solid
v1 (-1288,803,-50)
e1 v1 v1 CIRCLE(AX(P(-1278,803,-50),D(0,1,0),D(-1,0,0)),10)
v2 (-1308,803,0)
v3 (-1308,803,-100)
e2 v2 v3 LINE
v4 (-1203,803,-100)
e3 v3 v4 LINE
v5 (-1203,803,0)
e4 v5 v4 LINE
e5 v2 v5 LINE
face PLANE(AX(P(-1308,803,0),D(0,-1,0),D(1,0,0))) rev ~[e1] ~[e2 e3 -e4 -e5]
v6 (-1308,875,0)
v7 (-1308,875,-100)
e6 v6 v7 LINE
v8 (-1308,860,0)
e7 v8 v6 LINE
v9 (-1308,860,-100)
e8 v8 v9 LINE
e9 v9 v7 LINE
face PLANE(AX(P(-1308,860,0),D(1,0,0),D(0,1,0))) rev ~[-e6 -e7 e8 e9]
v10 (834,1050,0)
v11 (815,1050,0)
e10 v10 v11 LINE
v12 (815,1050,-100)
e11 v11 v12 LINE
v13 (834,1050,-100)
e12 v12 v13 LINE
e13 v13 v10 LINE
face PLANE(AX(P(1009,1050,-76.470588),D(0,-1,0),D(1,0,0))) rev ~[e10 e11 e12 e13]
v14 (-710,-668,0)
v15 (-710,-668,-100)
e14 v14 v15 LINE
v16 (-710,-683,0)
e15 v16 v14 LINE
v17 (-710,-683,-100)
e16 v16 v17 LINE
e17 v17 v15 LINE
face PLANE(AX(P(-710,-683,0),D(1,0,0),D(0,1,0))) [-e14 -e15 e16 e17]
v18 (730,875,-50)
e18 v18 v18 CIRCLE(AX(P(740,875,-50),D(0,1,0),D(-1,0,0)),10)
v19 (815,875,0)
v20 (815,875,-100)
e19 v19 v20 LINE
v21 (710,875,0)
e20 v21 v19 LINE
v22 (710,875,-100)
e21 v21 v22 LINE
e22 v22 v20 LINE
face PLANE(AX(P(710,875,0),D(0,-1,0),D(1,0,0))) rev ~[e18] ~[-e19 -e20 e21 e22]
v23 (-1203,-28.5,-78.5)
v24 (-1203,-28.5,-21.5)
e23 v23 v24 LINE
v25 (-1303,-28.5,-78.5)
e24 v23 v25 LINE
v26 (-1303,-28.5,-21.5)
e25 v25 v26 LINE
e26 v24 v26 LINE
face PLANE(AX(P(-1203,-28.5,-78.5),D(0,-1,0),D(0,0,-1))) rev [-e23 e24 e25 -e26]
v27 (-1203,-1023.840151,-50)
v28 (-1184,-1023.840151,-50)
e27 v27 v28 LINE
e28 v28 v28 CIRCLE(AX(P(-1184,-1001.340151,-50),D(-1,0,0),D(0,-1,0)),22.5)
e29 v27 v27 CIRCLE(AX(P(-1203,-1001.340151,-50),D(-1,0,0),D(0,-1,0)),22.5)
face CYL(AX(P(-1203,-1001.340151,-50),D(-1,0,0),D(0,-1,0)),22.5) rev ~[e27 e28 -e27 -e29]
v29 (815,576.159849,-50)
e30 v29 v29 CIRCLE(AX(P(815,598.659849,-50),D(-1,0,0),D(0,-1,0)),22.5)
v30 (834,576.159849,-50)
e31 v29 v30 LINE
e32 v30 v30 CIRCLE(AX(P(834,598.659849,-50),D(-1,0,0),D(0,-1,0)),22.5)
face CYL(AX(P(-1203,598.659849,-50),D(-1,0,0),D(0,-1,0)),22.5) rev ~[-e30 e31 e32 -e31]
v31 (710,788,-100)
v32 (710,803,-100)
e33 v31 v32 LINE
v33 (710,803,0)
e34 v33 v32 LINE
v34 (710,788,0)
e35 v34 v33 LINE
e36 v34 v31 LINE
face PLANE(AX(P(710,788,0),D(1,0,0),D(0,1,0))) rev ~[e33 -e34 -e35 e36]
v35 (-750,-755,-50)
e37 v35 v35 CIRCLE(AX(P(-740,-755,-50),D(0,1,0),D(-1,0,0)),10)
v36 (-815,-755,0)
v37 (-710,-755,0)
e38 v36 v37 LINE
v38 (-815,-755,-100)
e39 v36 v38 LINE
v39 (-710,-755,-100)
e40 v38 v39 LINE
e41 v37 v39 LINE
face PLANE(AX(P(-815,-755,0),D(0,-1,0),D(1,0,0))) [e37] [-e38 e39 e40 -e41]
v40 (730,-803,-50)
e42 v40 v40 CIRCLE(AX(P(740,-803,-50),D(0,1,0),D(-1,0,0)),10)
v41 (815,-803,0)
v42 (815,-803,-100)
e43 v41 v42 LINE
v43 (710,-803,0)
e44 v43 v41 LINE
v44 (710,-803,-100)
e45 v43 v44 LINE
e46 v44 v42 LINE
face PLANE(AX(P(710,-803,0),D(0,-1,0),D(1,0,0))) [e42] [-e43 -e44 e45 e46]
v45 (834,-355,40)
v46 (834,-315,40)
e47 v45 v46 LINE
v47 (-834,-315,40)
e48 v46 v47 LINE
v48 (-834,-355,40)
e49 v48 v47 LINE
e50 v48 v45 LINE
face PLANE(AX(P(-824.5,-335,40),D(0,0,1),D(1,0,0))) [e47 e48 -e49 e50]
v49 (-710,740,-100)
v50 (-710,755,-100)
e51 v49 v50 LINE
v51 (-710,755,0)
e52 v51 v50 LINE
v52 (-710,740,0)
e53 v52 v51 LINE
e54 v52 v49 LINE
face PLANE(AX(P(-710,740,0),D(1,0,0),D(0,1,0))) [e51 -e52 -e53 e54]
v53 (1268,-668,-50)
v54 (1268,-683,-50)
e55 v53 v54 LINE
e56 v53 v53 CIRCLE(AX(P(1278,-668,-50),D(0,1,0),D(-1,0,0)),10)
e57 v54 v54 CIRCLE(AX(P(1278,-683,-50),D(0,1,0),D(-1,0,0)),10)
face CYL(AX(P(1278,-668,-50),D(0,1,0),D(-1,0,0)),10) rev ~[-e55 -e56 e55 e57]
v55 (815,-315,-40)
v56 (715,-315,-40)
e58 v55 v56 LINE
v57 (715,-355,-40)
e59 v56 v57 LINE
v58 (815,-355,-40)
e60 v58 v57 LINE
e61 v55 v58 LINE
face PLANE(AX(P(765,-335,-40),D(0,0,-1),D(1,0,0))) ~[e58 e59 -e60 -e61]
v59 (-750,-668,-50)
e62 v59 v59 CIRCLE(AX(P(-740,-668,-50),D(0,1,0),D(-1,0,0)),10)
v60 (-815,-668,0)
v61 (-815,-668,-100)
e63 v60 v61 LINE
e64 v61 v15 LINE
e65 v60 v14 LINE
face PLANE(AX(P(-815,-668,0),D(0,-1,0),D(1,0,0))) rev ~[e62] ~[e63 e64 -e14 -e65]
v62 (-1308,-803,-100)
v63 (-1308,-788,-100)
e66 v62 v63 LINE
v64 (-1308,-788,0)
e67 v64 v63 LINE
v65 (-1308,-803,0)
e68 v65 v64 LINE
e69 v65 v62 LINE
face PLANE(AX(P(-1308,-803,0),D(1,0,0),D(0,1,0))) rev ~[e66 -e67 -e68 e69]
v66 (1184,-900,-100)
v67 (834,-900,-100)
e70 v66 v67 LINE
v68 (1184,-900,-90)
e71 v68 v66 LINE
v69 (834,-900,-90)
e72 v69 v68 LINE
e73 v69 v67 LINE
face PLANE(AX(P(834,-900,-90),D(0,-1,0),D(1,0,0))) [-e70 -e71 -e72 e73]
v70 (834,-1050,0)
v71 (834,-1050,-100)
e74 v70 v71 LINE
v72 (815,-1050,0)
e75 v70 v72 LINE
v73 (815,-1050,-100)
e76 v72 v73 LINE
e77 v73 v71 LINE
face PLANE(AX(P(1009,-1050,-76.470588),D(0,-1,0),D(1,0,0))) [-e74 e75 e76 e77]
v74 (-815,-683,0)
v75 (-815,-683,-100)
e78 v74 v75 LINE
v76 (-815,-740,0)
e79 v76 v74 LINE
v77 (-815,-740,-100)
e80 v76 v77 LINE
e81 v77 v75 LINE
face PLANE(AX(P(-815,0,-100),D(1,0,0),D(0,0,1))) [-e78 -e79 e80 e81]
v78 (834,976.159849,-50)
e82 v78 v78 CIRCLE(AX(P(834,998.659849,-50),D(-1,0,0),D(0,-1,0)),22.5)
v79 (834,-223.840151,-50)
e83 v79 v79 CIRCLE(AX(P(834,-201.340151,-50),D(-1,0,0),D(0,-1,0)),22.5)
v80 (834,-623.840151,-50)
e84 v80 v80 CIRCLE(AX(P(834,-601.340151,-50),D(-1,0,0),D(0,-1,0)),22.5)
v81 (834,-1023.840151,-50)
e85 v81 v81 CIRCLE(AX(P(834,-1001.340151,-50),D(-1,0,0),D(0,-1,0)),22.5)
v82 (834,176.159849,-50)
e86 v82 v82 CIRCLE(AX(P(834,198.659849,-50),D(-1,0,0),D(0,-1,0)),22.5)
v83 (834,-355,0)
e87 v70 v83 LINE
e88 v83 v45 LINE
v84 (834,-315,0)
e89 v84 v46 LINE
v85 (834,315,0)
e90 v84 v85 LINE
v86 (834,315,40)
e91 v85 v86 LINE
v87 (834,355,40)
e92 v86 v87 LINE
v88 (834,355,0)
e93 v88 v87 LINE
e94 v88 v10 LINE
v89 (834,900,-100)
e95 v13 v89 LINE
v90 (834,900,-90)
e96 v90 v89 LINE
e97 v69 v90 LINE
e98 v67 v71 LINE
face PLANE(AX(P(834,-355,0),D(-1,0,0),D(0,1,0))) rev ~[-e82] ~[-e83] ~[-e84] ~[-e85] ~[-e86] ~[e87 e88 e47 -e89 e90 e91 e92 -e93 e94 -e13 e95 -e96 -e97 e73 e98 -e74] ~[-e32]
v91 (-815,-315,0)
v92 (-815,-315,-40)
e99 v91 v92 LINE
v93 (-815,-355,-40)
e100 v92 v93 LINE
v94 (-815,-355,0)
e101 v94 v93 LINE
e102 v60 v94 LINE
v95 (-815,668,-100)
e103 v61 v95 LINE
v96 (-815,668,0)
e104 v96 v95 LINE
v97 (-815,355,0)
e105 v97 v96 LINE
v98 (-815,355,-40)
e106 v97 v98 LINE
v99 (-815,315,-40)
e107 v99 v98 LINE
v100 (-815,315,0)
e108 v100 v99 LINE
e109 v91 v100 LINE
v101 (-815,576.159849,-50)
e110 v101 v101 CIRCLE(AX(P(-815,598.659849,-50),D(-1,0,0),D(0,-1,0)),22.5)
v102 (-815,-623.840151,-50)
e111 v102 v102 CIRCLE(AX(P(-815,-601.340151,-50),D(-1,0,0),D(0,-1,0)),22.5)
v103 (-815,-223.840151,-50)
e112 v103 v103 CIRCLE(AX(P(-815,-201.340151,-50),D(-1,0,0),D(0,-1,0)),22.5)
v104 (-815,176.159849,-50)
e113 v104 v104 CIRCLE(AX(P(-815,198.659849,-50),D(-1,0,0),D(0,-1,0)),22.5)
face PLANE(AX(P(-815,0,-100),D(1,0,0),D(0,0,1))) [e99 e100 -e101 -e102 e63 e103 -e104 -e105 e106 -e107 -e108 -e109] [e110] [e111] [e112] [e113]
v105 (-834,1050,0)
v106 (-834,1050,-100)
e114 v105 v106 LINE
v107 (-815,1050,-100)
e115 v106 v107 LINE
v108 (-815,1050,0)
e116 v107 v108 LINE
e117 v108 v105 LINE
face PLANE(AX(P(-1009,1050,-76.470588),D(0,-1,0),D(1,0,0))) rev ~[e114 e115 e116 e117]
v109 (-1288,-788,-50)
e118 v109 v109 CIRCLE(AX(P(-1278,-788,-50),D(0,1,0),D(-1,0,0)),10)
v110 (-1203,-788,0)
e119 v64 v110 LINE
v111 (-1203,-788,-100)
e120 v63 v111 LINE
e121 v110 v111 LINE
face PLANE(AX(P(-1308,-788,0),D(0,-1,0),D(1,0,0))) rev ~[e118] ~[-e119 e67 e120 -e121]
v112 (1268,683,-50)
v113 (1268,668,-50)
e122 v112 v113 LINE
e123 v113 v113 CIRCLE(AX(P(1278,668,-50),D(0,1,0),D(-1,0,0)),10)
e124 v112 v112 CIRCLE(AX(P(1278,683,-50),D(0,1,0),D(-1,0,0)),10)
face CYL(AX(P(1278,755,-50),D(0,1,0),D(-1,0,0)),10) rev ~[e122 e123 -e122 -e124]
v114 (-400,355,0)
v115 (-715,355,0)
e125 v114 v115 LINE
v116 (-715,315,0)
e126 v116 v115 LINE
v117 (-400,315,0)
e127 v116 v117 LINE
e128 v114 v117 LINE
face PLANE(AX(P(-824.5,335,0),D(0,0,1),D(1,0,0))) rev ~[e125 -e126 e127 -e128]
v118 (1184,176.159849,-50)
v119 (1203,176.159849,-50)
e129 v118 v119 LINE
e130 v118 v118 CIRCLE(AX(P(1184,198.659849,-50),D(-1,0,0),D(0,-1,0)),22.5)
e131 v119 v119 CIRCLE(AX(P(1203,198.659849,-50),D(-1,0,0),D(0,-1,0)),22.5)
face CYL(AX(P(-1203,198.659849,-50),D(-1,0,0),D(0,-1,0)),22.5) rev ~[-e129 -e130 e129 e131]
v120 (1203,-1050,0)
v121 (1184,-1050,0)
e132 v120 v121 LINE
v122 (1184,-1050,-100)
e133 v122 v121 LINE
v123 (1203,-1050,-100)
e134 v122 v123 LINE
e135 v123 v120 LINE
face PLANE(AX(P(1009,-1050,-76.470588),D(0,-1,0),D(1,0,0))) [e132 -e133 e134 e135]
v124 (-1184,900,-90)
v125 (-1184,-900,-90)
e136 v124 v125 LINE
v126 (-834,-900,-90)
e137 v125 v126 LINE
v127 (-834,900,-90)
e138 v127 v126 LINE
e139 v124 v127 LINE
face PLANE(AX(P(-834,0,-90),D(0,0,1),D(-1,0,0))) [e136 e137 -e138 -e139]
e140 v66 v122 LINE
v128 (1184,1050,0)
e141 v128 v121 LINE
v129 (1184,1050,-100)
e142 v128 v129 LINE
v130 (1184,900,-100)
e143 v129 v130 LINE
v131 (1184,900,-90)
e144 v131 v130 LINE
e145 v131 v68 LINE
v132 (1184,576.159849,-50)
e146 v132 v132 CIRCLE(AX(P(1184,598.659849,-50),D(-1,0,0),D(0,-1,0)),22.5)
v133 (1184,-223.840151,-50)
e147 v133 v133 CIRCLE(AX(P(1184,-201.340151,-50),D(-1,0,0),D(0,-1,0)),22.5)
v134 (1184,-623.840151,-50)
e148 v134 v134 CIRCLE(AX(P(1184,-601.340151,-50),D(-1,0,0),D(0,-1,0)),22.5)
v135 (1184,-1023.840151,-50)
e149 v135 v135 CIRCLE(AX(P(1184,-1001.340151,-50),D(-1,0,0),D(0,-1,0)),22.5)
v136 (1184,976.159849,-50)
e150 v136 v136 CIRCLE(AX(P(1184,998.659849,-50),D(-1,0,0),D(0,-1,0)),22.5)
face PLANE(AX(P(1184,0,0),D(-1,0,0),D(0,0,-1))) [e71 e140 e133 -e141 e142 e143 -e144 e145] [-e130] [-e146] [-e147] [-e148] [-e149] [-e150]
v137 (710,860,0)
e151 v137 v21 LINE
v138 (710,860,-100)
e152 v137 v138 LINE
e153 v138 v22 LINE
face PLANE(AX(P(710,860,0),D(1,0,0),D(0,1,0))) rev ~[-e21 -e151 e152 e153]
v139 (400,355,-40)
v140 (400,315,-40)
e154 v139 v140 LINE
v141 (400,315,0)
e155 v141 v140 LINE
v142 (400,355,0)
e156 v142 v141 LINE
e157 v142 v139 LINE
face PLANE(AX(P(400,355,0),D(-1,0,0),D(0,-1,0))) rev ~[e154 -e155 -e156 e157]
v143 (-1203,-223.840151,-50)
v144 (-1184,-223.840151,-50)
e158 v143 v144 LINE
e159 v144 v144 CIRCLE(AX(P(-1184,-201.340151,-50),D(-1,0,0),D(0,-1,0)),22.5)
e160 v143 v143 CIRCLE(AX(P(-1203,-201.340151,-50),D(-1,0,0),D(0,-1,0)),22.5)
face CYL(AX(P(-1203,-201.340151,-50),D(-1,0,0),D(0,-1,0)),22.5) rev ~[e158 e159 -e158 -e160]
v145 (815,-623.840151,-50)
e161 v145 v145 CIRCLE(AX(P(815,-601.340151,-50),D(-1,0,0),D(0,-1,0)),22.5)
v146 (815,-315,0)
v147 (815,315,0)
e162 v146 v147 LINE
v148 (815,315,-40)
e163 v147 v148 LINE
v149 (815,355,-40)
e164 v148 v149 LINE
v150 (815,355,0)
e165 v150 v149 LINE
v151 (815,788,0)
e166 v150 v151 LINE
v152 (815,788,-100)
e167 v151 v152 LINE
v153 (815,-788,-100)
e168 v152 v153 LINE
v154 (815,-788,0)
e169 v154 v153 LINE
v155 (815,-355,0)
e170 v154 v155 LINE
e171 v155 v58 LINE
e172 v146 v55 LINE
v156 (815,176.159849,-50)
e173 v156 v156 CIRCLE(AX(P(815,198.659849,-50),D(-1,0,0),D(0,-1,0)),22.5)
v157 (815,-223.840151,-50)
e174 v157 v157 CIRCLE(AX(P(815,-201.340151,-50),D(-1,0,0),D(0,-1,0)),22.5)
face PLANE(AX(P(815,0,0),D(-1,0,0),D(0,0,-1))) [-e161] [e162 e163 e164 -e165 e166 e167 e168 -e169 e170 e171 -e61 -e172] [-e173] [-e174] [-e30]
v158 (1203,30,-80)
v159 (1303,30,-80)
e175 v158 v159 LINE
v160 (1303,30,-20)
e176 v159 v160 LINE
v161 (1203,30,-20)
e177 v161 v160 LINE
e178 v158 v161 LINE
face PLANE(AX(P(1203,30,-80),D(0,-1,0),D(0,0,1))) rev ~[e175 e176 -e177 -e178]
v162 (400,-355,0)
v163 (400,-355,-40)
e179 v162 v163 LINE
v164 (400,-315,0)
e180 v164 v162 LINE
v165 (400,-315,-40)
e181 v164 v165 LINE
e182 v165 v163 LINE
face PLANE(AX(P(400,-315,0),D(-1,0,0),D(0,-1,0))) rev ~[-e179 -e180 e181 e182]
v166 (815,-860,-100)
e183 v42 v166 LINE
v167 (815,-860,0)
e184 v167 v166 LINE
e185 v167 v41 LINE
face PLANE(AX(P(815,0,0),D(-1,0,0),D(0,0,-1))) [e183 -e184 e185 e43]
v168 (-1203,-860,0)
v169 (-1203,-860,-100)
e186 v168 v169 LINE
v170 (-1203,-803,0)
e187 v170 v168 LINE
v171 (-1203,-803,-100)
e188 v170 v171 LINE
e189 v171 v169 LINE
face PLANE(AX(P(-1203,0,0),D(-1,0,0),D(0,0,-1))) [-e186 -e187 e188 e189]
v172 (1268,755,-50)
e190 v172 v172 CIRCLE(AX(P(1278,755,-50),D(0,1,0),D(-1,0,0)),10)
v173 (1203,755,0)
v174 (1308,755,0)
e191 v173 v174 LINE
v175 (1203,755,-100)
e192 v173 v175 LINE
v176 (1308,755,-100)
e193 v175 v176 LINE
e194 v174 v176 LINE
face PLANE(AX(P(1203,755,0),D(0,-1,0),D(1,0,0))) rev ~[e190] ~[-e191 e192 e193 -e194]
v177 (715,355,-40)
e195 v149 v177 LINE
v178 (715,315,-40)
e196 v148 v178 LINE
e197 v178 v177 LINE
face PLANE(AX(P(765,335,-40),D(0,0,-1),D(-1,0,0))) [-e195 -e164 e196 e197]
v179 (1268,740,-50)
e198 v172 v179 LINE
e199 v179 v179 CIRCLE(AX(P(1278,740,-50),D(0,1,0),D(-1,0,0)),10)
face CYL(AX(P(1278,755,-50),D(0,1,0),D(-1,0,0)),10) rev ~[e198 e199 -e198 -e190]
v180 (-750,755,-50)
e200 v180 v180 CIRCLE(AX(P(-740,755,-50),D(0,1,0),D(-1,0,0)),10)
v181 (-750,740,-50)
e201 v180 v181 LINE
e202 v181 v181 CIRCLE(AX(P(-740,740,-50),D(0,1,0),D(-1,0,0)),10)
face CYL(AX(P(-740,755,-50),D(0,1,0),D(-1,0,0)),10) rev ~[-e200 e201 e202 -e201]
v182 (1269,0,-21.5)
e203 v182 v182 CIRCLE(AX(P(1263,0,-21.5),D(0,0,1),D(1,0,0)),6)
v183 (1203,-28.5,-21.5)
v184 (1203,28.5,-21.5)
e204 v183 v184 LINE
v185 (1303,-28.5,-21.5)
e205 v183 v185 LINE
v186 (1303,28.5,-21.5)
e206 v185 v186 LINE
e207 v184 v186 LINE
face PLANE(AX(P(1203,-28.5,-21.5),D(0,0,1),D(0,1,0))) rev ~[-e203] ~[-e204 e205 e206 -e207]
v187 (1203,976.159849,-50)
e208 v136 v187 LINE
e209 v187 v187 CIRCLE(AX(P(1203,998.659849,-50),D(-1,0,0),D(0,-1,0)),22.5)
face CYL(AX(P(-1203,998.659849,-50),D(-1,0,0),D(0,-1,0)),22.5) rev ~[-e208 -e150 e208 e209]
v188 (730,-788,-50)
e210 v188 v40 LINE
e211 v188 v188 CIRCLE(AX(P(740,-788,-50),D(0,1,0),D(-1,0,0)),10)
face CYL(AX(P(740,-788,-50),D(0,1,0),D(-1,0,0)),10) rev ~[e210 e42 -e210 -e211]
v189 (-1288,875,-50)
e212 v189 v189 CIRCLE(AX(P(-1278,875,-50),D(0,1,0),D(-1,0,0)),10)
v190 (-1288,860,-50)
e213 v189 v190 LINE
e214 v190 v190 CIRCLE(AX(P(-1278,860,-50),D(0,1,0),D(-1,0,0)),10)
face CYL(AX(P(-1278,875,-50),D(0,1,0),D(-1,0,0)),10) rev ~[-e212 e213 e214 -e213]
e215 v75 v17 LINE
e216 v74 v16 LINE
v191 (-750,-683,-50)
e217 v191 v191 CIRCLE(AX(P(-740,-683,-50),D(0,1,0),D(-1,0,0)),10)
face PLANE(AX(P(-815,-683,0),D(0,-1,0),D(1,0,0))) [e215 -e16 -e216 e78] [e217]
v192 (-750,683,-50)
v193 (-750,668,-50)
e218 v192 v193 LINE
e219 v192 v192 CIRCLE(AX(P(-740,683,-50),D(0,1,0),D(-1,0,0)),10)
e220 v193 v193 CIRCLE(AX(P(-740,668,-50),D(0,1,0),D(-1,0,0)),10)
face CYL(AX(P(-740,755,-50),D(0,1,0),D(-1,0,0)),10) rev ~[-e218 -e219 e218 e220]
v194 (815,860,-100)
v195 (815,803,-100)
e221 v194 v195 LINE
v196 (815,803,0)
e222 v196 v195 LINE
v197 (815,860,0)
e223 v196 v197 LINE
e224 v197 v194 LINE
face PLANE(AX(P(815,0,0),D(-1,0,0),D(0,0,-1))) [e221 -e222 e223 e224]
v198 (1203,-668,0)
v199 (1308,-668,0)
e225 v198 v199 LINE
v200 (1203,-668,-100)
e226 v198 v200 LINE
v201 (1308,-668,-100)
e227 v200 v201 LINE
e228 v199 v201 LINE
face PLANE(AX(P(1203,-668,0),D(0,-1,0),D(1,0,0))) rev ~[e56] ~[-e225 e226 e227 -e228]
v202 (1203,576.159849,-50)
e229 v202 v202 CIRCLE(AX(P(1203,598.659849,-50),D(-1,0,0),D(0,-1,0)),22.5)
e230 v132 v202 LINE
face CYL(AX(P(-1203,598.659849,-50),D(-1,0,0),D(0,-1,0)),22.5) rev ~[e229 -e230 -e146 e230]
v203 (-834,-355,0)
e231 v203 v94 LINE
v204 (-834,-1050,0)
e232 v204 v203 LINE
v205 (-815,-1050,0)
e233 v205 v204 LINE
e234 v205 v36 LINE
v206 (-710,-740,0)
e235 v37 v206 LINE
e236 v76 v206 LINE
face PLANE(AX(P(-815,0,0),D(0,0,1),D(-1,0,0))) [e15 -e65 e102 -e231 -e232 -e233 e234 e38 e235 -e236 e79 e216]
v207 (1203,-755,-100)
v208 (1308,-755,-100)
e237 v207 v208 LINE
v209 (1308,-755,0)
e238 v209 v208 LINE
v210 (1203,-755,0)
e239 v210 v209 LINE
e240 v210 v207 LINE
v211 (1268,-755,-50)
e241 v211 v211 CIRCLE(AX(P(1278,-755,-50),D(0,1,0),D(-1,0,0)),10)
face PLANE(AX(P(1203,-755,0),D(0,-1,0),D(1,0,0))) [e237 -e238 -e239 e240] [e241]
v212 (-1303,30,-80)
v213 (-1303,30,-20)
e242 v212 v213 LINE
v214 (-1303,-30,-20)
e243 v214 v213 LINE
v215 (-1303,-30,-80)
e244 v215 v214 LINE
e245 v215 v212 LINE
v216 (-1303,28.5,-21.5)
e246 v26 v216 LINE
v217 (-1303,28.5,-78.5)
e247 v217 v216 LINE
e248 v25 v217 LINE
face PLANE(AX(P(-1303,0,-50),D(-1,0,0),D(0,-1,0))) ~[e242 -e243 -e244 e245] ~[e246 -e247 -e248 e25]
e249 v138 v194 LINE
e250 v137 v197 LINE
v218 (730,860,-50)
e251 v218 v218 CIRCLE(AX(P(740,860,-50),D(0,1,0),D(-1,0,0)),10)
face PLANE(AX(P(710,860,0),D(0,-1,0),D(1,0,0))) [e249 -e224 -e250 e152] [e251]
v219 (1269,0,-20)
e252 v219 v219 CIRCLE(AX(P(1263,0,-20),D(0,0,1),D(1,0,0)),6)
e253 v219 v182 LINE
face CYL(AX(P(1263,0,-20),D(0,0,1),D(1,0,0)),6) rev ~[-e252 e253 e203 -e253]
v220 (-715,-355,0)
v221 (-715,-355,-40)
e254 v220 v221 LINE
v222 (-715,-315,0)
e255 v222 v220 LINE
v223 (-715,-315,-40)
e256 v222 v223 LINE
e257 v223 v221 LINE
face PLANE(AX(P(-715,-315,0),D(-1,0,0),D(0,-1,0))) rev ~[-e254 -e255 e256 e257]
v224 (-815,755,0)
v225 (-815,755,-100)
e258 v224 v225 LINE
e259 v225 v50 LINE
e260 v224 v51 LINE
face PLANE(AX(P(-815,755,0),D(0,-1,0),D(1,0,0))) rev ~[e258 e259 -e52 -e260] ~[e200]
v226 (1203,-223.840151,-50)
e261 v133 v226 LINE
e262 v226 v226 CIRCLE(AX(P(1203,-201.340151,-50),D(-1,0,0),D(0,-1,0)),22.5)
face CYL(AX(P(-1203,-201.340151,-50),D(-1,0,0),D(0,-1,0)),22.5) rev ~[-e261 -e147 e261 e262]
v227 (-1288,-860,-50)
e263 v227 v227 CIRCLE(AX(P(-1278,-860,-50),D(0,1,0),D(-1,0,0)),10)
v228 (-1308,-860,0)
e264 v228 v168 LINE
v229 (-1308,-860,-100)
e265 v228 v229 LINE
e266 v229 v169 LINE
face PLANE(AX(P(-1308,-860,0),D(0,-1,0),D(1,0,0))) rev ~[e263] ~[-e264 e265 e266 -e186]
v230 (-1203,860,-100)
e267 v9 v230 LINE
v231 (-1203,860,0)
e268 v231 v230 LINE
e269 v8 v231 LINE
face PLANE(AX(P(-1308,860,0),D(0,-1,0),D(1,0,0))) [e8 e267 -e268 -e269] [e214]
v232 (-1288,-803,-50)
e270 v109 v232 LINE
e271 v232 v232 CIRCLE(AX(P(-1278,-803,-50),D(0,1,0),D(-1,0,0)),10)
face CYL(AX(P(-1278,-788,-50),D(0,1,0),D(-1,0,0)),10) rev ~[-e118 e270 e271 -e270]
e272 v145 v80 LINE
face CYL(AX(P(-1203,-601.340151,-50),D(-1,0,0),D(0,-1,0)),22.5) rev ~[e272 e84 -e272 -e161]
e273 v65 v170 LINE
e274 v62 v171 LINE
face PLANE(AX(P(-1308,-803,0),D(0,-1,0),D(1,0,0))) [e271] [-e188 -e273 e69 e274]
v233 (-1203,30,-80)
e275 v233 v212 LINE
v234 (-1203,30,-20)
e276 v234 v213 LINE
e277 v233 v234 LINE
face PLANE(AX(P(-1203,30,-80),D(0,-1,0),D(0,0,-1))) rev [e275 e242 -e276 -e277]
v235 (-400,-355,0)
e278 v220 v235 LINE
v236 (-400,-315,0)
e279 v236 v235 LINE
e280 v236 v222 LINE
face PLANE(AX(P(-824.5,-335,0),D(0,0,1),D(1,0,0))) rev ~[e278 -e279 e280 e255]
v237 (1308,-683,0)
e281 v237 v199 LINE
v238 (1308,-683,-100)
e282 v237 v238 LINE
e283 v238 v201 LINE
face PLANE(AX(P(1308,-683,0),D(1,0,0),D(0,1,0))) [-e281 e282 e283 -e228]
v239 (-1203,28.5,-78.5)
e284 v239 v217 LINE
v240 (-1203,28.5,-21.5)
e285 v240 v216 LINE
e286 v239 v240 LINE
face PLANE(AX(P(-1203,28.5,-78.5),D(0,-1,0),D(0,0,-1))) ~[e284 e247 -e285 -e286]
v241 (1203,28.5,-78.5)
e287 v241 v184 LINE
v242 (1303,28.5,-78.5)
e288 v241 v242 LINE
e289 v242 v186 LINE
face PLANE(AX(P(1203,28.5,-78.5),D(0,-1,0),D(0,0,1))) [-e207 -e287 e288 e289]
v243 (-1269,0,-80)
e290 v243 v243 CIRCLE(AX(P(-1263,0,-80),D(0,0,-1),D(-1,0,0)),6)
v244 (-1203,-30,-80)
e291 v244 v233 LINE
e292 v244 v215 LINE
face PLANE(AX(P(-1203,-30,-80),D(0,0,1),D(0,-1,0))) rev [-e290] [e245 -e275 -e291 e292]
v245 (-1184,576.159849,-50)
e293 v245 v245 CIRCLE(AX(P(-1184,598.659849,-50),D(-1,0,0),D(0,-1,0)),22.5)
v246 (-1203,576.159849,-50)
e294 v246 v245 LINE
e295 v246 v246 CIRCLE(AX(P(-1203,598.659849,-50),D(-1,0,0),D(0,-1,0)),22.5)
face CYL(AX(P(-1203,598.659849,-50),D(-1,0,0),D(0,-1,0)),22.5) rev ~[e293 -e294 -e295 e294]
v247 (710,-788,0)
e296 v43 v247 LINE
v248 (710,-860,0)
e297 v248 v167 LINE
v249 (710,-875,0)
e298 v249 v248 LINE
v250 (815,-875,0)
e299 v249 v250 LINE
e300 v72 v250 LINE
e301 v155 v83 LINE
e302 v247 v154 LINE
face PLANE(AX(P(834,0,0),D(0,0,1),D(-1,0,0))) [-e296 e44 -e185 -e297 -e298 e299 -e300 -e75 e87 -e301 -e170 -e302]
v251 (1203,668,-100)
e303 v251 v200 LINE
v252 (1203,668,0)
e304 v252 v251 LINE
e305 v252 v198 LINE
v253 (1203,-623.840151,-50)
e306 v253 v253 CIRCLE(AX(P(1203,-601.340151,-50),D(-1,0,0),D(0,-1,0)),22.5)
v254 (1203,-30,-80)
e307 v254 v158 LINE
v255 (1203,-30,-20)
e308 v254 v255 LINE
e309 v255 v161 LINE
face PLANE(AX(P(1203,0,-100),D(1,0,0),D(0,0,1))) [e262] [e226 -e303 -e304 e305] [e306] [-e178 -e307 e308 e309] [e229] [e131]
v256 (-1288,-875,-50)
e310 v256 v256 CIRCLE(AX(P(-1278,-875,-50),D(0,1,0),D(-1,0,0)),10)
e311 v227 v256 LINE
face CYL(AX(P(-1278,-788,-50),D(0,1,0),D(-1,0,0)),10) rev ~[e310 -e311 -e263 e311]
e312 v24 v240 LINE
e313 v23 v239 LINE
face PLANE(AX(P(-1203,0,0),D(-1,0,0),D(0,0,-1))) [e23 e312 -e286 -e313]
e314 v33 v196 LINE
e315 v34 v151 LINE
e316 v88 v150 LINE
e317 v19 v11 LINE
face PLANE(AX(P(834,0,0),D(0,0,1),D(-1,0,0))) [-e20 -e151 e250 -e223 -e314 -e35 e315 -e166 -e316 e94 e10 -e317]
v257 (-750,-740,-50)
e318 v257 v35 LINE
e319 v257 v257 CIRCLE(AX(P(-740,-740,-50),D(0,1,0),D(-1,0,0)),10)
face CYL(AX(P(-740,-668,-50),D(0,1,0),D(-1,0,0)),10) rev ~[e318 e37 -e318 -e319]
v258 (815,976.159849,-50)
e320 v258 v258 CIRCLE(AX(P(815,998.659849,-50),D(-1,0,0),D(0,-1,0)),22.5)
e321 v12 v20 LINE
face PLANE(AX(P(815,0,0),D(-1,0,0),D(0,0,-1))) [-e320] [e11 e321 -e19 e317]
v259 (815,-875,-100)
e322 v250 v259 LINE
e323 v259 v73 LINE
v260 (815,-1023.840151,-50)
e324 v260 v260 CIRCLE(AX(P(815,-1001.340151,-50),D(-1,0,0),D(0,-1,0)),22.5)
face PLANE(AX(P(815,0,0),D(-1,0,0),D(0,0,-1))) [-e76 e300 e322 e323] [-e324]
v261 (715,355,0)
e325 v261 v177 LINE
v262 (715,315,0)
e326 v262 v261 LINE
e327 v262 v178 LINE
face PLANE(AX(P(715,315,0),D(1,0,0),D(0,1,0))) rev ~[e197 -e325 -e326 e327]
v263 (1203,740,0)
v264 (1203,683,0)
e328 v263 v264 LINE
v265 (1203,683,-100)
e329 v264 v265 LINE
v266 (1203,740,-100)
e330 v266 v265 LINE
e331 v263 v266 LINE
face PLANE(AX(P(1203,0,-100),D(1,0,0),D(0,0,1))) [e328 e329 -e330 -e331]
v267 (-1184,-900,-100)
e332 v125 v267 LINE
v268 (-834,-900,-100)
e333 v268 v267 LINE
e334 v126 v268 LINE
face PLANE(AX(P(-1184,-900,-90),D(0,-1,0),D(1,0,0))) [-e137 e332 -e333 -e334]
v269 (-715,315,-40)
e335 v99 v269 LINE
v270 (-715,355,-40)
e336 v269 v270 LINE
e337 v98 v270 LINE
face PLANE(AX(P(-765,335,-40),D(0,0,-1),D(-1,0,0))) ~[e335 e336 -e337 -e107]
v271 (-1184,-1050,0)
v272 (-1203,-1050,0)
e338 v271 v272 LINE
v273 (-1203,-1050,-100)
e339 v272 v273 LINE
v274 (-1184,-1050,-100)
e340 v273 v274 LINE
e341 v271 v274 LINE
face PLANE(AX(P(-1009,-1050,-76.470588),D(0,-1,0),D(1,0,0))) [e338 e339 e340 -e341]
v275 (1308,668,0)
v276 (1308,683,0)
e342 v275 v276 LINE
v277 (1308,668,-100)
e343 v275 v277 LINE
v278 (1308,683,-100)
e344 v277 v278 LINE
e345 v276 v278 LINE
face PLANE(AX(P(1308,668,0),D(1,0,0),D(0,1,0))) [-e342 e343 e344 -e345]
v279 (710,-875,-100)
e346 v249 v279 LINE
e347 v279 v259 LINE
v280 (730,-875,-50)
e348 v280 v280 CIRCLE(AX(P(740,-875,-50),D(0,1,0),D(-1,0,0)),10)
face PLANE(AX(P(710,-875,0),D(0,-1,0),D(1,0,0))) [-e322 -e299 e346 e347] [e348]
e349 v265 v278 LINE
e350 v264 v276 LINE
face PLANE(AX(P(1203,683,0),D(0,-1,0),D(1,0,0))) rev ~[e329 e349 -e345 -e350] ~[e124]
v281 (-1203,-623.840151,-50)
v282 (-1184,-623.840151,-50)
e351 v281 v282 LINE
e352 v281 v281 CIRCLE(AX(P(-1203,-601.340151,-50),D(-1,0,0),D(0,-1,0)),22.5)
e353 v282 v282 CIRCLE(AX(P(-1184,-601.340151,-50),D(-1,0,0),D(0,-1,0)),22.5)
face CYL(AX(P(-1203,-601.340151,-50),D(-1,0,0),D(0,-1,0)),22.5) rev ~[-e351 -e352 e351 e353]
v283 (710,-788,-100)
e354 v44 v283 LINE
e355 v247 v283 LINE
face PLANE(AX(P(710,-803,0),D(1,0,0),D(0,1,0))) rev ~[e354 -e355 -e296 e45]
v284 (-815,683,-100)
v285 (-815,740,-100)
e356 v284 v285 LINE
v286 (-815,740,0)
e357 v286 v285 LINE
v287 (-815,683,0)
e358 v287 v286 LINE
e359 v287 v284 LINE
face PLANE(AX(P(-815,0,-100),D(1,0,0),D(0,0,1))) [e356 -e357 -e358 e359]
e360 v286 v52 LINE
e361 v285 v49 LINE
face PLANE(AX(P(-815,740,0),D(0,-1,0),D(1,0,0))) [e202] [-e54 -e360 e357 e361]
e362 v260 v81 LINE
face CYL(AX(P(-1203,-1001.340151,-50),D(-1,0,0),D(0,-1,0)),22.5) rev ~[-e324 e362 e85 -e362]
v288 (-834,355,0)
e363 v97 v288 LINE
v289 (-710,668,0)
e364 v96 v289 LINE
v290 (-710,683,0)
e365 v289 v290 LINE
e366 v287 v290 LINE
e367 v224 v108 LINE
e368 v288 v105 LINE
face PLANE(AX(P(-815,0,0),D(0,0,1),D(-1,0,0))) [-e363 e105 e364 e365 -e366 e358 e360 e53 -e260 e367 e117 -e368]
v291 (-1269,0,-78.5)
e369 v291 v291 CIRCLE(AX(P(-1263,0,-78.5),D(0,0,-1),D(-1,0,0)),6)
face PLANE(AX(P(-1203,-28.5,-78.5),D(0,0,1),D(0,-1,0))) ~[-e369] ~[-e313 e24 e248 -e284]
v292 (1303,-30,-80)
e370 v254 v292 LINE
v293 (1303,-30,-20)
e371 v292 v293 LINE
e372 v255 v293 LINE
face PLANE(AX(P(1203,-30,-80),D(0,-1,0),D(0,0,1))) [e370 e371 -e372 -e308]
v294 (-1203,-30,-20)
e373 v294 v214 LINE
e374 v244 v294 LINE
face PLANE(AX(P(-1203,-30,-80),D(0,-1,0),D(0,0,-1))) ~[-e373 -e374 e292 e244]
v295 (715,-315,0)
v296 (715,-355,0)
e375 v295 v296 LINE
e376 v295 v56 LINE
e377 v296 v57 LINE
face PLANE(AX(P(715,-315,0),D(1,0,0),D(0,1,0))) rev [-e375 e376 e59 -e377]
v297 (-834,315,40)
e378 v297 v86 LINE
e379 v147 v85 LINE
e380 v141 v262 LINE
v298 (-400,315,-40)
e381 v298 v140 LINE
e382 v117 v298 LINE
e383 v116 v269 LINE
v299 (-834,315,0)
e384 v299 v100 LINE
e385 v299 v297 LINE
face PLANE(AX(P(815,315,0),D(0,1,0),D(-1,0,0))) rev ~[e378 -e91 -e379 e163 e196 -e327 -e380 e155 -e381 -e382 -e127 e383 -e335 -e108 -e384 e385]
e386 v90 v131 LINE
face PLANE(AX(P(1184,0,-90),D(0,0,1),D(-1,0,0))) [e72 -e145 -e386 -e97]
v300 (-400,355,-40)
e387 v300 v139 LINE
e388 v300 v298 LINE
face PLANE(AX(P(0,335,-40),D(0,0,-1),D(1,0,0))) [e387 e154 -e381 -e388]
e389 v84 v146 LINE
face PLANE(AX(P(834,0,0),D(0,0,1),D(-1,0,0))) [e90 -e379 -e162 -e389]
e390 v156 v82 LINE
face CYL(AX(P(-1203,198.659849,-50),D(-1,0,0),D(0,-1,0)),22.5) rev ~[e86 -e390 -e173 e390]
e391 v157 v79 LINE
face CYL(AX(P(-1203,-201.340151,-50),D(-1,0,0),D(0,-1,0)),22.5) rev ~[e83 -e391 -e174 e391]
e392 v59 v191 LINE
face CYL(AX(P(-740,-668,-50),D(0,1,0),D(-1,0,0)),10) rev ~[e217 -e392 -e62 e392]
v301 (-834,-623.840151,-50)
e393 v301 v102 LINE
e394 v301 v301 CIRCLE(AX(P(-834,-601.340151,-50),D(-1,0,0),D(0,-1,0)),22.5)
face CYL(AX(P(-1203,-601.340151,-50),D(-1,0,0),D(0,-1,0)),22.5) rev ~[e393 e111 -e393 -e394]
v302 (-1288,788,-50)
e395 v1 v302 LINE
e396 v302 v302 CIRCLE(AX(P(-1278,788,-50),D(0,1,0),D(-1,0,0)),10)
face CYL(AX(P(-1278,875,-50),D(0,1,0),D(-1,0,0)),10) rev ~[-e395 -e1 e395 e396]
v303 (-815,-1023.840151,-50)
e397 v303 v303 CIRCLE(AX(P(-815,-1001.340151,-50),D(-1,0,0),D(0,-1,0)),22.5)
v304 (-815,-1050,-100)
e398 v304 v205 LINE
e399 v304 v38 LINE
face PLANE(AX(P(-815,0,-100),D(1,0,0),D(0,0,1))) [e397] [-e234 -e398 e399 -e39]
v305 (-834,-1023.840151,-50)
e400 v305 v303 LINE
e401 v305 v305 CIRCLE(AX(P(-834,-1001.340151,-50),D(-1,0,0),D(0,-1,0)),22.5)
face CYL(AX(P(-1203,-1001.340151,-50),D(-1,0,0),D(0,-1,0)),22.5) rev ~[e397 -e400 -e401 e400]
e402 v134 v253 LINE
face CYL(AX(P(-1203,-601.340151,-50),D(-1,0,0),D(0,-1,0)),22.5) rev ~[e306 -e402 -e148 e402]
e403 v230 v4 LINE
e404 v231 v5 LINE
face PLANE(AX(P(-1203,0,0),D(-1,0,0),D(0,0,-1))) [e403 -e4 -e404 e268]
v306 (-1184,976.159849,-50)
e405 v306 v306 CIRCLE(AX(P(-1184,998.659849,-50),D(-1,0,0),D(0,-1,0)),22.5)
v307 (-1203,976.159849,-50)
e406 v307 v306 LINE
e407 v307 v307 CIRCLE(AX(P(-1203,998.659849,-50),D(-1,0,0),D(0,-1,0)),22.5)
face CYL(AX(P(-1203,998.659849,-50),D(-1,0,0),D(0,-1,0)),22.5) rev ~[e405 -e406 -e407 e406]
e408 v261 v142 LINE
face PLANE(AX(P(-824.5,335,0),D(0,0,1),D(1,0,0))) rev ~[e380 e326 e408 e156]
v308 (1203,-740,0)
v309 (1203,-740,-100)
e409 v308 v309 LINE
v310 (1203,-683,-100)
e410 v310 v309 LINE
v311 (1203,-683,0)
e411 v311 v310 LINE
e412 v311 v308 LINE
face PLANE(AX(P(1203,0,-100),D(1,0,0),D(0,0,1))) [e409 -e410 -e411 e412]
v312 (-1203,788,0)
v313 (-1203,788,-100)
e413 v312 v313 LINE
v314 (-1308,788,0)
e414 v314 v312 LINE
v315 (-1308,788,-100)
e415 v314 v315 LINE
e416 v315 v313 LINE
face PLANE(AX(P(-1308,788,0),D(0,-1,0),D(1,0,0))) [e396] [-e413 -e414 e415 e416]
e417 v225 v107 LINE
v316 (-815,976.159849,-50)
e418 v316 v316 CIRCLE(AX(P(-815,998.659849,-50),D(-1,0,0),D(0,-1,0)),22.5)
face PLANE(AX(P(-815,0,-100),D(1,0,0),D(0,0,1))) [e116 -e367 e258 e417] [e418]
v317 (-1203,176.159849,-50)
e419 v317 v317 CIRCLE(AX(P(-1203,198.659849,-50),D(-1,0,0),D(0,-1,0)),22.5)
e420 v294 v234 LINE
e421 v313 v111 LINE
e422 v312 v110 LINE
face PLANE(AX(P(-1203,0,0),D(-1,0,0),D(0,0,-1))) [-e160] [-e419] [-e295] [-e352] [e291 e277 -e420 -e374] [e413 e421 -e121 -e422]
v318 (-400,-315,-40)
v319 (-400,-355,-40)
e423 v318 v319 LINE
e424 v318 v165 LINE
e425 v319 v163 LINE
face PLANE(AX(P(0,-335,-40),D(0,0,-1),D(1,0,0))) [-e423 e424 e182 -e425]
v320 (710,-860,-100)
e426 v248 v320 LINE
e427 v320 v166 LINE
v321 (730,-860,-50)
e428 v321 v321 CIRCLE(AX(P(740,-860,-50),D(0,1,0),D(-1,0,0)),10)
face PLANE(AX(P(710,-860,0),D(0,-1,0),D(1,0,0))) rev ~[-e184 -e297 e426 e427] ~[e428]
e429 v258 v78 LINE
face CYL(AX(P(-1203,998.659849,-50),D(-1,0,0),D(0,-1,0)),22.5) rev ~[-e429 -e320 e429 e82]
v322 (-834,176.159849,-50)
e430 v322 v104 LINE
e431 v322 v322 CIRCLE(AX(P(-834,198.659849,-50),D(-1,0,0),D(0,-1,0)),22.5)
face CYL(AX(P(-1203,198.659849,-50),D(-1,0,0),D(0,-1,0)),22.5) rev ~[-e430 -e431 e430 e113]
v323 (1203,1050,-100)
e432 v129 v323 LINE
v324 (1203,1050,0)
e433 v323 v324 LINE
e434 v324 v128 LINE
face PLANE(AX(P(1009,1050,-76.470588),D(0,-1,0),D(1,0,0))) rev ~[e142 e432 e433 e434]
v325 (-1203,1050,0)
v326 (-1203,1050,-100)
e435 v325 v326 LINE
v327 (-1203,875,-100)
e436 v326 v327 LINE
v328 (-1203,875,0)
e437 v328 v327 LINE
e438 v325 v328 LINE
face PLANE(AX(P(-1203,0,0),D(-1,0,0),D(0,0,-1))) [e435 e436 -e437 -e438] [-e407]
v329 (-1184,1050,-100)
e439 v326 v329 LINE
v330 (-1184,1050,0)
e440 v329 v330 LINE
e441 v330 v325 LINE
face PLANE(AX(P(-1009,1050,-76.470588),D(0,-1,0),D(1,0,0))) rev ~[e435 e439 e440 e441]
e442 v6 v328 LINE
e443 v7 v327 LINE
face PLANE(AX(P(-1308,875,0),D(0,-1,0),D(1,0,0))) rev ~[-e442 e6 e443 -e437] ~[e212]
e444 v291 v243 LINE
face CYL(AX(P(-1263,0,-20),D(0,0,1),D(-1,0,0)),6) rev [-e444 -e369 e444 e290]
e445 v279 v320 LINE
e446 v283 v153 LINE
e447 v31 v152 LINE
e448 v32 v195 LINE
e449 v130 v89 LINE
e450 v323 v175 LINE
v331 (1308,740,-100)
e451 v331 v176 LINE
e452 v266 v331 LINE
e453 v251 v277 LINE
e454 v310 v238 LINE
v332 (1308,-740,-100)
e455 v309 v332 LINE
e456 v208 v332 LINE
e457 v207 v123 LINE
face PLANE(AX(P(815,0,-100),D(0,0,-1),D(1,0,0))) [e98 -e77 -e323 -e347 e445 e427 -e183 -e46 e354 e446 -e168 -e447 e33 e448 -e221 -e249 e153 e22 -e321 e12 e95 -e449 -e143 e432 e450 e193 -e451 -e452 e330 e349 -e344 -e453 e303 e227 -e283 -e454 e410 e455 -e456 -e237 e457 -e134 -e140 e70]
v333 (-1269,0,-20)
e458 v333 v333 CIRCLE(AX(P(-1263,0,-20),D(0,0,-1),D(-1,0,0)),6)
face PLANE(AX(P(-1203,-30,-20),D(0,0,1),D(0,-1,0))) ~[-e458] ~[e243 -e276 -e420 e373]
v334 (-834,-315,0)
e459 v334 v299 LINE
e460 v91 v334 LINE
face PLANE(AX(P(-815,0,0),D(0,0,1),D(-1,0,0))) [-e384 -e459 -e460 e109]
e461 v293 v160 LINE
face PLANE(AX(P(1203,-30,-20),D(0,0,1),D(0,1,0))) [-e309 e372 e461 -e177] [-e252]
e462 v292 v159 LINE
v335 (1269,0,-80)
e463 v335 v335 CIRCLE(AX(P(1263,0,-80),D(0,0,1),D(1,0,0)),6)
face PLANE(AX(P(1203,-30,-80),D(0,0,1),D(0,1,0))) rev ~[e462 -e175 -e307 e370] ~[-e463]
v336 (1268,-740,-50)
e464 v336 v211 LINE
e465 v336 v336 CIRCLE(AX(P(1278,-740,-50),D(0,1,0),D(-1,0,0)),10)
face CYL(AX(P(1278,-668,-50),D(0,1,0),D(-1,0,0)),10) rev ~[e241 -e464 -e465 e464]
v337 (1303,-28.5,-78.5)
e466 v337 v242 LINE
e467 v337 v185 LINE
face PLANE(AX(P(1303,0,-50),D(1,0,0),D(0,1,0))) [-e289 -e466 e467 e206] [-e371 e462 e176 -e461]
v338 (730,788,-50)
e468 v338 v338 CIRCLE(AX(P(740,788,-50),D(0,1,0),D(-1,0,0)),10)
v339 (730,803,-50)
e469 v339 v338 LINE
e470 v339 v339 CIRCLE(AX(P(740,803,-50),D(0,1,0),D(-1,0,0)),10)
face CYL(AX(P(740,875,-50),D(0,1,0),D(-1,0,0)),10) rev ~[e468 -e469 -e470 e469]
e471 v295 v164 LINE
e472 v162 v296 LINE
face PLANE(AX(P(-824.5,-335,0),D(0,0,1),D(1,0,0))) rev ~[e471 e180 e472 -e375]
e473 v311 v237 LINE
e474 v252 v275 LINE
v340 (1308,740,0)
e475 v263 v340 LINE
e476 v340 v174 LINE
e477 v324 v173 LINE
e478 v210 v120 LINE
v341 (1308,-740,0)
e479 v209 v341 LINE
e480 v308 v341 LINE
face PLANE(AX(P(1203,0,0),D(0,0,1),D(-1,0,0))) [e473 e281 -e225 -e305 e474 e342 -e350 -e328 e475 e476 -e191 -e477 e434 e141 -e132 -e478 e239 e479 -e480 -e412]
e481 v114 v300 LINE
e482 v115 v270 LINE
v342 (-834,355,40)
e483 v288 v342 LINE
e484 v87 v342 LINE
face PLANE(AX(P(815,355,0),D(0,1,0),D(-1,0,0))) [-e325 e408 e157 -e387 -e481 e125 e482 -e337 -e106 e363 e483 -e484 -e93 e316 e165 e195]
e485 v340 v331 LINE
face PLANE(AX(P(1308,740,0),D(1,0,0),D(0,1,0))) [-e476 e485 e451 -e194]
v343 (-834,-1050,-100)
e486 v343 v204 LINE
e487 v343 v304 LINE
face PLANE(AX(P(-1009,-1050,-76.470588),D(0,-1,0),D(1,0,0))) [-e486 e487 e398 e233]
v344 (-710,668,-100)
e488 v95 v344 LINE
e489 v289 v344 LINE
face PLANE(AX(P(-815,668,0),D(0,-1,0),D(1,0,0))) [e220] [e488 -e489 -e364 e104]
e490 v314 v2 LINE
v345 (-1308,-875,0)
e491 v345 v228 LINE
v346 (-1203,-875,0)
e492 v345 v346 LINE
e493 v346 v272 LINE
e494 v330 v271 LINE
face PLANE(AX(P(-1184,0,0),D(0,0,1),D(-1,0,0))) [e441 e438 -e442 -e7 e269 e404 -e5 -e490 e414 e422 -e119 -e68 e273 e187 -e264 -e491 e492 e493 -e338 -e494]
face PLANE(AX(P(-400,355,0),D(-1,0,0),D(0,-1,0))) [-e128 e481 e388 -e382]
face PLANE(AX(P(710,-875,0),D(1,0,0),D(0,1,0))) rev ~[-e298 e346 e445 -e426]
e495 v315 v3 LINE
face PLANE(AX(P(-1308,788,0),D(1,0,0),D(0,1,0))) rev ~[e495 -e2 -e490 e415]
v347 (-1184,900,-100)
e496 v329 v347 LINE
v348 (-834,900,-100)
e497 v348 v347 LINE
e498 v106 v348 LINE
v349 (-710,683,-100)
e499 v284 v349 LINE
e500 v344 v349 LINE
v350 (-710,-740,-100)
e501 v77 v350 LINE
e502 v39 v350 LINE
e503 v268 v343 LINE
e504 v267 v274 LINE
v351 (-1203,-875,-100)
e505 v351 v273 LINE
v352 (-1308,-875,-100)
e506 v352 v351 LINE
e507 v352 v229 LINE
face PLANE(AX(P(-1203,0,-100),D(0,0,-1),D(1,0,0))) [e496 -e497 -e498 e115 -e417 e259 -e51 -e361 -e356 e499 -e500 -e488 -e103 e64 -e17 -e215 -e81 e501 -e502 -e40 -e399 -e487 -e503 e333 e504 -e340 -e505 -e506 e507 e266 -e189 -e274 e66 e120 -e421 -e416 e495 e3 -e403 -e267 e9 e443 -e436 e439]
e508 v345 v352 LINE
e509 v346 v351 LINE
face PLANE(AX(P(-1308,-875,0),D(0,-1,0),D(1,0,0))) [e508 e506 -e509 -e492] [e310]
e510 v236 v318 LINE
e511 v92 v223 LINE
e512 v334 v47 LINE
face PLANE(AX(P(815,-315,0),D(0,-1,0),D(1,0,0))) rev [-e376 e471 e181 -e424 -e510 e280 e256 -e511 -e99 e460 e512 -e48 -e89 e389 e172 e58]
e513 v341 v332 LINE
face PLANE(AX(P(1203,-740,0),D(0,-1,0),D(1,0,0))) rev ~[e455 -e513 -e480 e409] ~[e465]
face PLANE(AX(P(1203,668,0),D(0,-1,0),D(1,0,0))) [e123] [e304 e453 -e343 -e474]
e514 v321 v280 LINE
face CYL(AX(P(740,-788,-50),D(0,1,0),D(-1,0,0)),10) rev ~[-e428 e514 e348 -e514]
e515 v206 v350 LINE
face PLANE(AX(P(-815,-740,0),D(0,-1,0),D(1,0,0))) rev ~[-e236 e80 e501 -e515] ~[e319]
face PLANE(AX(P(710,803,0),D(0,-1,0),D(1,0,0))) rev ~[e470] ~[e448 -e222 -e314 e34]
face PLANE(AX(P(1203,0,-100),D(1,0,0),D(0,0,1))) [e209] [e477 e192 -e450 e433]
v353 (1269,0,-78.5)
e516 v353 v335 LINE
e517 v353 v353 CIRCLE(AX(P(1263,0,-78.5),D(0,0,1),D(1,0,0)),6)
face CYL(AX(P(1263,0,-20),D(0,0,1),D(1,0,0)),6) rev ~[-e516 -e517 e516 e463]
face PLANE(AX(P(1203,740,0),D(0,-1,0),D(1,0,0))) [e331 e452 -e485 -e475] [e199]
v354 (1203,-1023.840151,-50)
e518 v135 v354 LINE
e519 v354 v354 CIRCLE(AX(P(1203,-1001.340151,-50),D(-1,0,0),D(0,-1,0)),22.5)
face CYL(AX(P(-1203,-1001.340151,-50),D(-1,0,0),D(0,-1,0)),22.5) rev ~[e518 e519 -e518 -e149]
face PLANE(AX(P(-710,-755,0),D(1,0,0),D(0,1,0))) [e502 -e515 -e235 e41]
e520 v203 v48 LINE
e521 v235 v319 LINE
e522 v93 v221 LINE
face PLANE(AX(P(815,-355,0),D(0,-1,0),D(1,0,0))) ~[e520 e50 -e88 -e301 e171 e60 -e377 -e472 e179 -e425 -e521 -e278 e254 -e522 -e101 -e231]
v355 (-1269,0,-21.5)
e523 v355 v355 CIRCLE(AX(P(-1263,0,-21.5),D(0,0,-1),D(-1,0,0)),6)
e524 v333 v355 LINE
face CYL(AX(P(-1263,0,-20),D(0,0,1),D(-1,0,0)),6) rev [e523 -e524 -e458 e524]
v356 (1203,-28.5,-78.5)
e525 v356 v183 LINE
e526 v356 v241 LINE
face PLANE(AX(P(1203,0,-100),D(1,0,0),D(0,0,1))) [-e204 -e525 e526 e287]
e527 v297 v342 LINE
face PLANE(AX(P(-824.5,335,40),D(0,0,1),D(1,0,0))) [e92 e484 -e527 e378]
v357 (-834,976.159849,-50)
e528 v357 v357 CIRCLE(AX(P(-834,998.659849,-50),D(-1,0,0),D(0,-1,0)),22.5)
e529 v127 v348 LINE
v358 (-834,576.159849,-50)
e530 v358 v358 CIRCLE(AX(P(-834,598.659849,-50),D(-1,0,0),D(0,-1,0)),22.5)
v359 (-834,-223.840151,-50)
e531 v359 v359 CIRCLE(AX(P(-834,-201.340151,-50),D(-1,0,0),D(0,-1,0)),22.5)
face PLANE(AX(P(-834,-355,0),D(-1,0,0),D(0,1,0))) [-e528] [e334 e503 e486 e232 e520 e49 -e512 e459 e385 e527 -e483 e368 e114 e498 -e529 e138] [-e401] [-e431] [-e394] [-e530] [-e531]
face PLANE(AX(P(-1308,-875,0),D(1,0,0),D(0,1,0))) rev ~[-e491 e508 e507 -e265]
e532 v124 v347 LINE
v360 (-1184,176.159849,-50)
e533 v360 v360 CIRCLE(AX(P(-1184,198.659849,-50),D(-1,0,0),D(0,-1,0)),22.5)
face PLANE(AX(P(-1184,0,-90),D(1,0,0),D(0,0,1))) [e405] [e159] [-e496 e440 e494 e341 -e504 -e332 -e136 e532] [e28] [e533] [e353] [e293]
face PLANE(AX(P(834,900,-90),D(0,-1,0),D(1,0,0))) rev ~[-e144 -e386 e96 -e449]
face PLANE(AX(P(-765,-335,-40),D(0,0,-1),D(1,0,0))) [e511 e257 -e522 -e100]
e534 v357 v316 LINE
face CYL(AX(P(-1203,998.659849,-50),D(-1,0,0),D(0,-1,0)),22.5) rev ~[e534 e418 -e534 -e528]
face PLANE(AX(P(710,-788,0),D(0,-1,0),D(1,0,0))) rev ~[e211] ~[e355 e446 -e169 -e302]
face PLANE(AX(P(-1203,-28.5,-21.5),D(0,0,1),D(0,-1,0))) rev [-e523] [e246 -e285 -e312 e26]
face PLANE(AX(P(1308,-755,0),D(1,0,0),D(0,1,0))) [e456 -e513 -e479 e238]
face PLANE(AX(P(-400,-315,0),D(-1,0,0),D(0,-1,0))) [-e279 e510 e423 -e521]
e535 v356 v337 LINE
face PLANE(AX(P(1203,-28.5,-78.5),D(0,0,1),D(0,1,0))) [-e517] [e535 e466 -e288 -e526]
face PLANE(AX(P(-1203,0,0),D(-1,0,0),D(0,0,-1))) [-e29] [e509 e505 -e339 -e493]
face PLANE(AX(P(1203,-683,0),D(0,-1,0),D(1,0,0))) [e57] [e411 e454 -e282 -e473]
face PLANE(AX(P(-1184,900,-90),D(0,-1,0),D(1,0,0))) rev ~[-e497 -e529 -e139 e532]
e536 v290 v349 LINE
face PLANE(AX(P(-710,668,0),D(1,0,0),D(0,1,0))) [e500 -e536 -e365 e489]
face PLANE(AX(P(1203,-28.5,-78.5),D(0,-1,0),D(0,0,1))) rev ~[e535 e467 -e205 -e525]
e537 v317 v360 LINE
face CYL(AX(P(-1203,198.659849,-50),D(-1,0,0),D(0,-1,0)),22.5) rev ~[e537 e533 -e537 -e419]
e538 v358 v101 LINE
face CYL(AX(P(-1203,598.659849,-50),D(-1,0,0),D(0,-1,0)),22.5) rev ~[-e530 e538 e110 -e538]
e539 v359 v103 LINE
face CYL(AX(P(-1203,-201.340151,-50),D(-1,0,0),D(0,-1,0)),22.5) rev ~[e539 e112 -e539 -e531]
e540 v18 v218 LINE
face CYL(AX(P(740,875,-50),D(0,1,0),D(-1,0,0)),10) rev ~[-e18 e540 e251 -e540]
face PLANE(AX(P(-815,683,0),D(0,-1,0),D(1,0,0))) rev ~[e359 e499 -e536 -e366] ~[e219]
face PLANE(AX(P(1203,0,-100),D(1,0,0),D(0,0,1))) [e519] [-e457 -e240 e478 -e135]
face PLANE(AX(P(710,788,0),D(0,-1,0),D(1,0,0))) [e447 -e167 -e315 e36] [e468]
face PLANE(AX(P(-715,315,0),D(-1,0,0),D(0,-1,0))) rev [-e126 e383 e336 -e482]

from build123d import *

# Parameters (mm, degrees)
F1_DEPTH  = 1050
F2_W      = 19
F2_H      = 40
F2_W_2    = 1649
F3_DEPTH  = 40
F4_W      = 105
F4_H      = 15
F5_DEPTH  = 100
F8_R      = 10
F7_R      = 10
F9_R      = 10
F6_R      = 10
F10_DEPTH = 100
F13_R     = 10
F11_R     = 10
F12_R     = 10
F14_R     = 10
F15_DEPTH = 100
F16_W     = 800
F16_H     = 40
F17_DEPTH = 40
F18_W     = 350
F18_H     = 150
F19_DEPTH = 25
F20_R     = 22.5
F21_DEPTH = 2511.001
F22_W     = 60
F22_H     = 60
F22_W_2   = 57
F22_H_2   = 57
F23_DEPTH = 100
F24_R     = 6
F25_DEPTH = 60
F27_DEPTH = 40
F28_W     = 100
F28_H     = 40
F29_DEPTH = 40


with BuildPart() as f1:
    # F0 (on Front) → F1 (new body, symmetric)
    with BuildSketch(Plane.XZ):
        Polygon((-834, 0), (-834, -90), (-1184, -90), (-1184, 0), (-1203, 0), (-1203, -100), (-815, -100), (-815, 0), align=None)
    extrude(amount=F1_DEPTH, both=True)



with BuildPart() as f1b:
    # F0 (on Front) → F1, piece 2 (new body, symmetric)
    with BuildSketch(Plane.XZ):
        Polygon((815, 0), (815, -100), (1203, -100), (1203, 0), (1184, 0), (1184, -90), (834, -90), (834, 0), align=None)
    extrude(amount=F1_DEPTH, both=True)


with BuildPart() as f1_1:
    add(f1.part)

    add(f1b.part)  # F3 merges F1b
    # F2 (on face) → F3 (join)
    with BuildSketch(Plane.XY):
        with Locations((-824.5, -335)):
            Rectangle(F2_W, F2_H)
        with Locations((-824.5, 335)):
            Rectangle(F2_W, F2_H)
        with Locations((9.5, -335)):
            Rectangle(F2_W_2, F2_H)
        with Locations((9.5, 335)):
            Rectangle(F2_W_2, F2_H)
    extrude(amount=F3_DEPTH)

    # F4 (on Top) → F5 (join)
    with BuildSketch(Plane.XY):
        with Locations((-1255.5, 867.5)):
            Rectangle(F4_W, F4_H)
        with Locations((-1255.5, 795.5)):
            Rectangle(F4_W, F4_H)
        with Locations((-762.5, 747.5)):
            Rectangle(F4_W, F4_H)
        with Locations((-762.5, 675.5)):
            Rectangle(F4_W, F4_H)
        with Locations((762.5, 867.5)):
            Rectangle(F4_W, F4_H)
        with Locations((762.5, 795.5)):
            Rectangle(F4_W, F4_H)
        with Locations((1255.5, 747.5)):
            Rectangle(F4_W, F4_H)
        with Locations((1255.5, 675.5)):
            Rectangle(F4_W, F4_H)
        with Locations((762.5, -867.5)):
            Rectangle(F4_W, F4_H)
        with Locations((762.5, -795.5)):
            Rectangle(F4_W, F4_H)
        with Locations((1255.5, -675.5)):
            Rectangle(F4_W, F4_H)
        with Locations((1255.5, -747.5)):
            Rectangle(F4_W, F4_H)
        with Locations((-762.5, -675.5)):
            Rectangle(F4_W, F4_H)
        with Locations((-762.5, -747.5)):
            Rectangle(F4_W, F4_H)
        with Locations((-1255.5, -795.5)):
            Rectangle(F4_W, F4_H)
        with Locations((-1255.5, -867.5)):
            Rectangle(F4_W, F4_H)
    extrude(amount=-F5_DEPTH)

    # F8 (on face) + F7 (on face) + F9 (on face) + F6 (on face) → F10 (cut)
    with BuildSketch(Plane(origin=(0, -668, 0), x_dir=(-1, 0, 0), z_dir=(0, 1, 0))):
        with Locations((-1278, -50)):
            Circle(F8_R)
    with BuildSketch(Plane(origin=(0, -788, 0), x_dir=(-1, 0, 0), z_dir=(0, 1, 0))):
        with Locations((-740, -50)):
            Circle(F7_R)
    with BuildSketch(Plane(origin=(0, 755, 0), x_dir=(-1, 0, 0), z_dir=(0, 1, 0))):
        with Locations((-1278, -50)):
            Circle(F9_R)
    with BuildSketch(Plane(origin=(0, 875, 0), x_dir=(-1, 0, 0), z_dir=(0, 1, 0))):
        with Locations((-740, -50)):
            Circle(F6_R)
    extrude(amount=-F10_DEPTH, mode=Mode.SUBTRACT)

    # F13 (on face) + F11 (on face) + F12 (on face) + F14 (on face) → F15 (cut)
    with BuildSketch(Plane(origin=(0, 755, 0), x_dir=(-1, 0, 0), z_dir=(0, 1, 0))):
        with Locations((740, -50)):
            Circle(F13_R)
    with BuildSketch(Plane(origin=(0, -788, 0), x_dir=(-1, 0, 0), z_dir=(0, 1, 0))):
        with Locations((1278, -50)):
            Circle(F11_R)
    with BuildSketch(Plane(origin=(0, -668, 0), x_dir=(-1, 0, 0), z_dir=(0, 1, 0))):
        with Locations((740, -50)):
            Circle(F12_R)
    with BuildSketch(Plane(origin=(0, 875, 0), x_dir=(-1, 0, 0), z_dir=(0, 1, 0))):
        with Locations((1278, -50)):
            Circle(F14_R)
    extrude(amount=-F15_DEPTH, mode=Mode.SUBTRACT)

    # F16 (on face) → F17 (join)
    with BuildSketch(Plane(origin=(0, 0, 0), x_dir=(1, 0, 0), z_dir=(0, 0, -1))):
        with Locations((0, -335)):
            Rectangle(F16_W, F16_H)
        with Locations((0, 335)):
            Rectangle(F16_W, F16_H)
    extrude(amount=F17_DEPTH)

    # F18 (on face) → F19 (cut)
    with BuildSketch(Plane.XY.offset(-90)):
        with Locations((-1009, 975)):
            Rectangle(F18_W, F18_H)
        with Locations((-1009, -975)):
            Rectangle(F18_W, F18_H)
        with Locations((1009, -975)):
            Rectangle(F18_W, F18_H)
        with Locations((1009, 975)):
            Rectangle(F18_W, F18_H)
    extrude(amount=-F19_DEPTH, mode=Mode.SUBTRACT)

    # F20 (on face) → F21 (cut, through all)
    with BuildSketch(Plane(origin=(-1203, 0, 0), x_dir=(0, -1, 0), z_dir=(-1, 0, 0))):
        with Locations((-998.6598491669, -50)):
            Circle(F20_R)
        with Locations((-598.6598491669, -50)):
            Circle(F20_R)
        with Locations((-198.6598491669, -50)):
            Circle(F20_R)
        with Locations((201.3401508331, -50)):
            Circle(F20_R)
        with Locations((601.3401508331, -50)):
            Circle(F20_R)
        with Locations((1001.3401508331, -50)):
            Circle(F20_R)
    extrude(amount=-F21_DEPTH, mode=Mode.SUBTRACT)

    # F26: F23 across plane


with BuildPart() as f23:
    # F22 (on face) → F23 (new body)
    with BuildSketch(Plane.YZ.offset(1203)):
        with Locations((0, -50)):
            Rectangle(F22_W, F22_H)
        with Locations((0, -50)):
            Rectangle(F22_W_2, F22_H_2, mode=Mode.SUBTRACT)
    extrude(amount=F23_DEPTH)

    # F24 (on face) → F25 (cut, through all)
    with BuildSketch(Plane.XY.offset(-20)):
        with Locations((1263, 0)):
            Circle(F24_R)
    extrude(amount=-F25_DEPTH, mode=Mode.SUBTRACT)


with BuildPart() as f1_2:
    add(f1_1.part)
    add(f23.part.mirror(Plane.YZ))

    # F16 (on face) → F27 (join)
    with BuildSketch(Plane(origin=(0, 0, 0), x_dir=(1, 0, 0), z_dir=(0, 0, -1))):
        with Locations((0, -335)):
            Rectangle(F16_W, F16_H)
    extrude(amount=F27_DEPTH)



with BuildPart() as f29:
    # F28 (on face) → F29 (new body)
    with BuildSketch(Plane(origin=(0, 0, 0), x_dir=(1, 0, 0), z_dir=(0, 0, -1))):
        with Locations((-765, 335)):
            Rectangle(F28_W, F28_H)
    extrude(amount=F29_DEPTH)


with BuildPart() as f30_1:
    # F30: instance of F29
    add(f29.part.mirror(Plane.YZ))


with BuildPart() as f1_3:
    add(f1_2.part)

    add(f23.part)  # F31 merges F23

    add(f29.part)  # F31 merges F29

    add(f30_1.part)  # F31 merges F30_1
    # F31: F29, F30_1 across plane
    add(f29.part.mirror(Plane.XZ))
    add(f30_1.part.mirror(Plane.XZ))


solid = f1_3.part
